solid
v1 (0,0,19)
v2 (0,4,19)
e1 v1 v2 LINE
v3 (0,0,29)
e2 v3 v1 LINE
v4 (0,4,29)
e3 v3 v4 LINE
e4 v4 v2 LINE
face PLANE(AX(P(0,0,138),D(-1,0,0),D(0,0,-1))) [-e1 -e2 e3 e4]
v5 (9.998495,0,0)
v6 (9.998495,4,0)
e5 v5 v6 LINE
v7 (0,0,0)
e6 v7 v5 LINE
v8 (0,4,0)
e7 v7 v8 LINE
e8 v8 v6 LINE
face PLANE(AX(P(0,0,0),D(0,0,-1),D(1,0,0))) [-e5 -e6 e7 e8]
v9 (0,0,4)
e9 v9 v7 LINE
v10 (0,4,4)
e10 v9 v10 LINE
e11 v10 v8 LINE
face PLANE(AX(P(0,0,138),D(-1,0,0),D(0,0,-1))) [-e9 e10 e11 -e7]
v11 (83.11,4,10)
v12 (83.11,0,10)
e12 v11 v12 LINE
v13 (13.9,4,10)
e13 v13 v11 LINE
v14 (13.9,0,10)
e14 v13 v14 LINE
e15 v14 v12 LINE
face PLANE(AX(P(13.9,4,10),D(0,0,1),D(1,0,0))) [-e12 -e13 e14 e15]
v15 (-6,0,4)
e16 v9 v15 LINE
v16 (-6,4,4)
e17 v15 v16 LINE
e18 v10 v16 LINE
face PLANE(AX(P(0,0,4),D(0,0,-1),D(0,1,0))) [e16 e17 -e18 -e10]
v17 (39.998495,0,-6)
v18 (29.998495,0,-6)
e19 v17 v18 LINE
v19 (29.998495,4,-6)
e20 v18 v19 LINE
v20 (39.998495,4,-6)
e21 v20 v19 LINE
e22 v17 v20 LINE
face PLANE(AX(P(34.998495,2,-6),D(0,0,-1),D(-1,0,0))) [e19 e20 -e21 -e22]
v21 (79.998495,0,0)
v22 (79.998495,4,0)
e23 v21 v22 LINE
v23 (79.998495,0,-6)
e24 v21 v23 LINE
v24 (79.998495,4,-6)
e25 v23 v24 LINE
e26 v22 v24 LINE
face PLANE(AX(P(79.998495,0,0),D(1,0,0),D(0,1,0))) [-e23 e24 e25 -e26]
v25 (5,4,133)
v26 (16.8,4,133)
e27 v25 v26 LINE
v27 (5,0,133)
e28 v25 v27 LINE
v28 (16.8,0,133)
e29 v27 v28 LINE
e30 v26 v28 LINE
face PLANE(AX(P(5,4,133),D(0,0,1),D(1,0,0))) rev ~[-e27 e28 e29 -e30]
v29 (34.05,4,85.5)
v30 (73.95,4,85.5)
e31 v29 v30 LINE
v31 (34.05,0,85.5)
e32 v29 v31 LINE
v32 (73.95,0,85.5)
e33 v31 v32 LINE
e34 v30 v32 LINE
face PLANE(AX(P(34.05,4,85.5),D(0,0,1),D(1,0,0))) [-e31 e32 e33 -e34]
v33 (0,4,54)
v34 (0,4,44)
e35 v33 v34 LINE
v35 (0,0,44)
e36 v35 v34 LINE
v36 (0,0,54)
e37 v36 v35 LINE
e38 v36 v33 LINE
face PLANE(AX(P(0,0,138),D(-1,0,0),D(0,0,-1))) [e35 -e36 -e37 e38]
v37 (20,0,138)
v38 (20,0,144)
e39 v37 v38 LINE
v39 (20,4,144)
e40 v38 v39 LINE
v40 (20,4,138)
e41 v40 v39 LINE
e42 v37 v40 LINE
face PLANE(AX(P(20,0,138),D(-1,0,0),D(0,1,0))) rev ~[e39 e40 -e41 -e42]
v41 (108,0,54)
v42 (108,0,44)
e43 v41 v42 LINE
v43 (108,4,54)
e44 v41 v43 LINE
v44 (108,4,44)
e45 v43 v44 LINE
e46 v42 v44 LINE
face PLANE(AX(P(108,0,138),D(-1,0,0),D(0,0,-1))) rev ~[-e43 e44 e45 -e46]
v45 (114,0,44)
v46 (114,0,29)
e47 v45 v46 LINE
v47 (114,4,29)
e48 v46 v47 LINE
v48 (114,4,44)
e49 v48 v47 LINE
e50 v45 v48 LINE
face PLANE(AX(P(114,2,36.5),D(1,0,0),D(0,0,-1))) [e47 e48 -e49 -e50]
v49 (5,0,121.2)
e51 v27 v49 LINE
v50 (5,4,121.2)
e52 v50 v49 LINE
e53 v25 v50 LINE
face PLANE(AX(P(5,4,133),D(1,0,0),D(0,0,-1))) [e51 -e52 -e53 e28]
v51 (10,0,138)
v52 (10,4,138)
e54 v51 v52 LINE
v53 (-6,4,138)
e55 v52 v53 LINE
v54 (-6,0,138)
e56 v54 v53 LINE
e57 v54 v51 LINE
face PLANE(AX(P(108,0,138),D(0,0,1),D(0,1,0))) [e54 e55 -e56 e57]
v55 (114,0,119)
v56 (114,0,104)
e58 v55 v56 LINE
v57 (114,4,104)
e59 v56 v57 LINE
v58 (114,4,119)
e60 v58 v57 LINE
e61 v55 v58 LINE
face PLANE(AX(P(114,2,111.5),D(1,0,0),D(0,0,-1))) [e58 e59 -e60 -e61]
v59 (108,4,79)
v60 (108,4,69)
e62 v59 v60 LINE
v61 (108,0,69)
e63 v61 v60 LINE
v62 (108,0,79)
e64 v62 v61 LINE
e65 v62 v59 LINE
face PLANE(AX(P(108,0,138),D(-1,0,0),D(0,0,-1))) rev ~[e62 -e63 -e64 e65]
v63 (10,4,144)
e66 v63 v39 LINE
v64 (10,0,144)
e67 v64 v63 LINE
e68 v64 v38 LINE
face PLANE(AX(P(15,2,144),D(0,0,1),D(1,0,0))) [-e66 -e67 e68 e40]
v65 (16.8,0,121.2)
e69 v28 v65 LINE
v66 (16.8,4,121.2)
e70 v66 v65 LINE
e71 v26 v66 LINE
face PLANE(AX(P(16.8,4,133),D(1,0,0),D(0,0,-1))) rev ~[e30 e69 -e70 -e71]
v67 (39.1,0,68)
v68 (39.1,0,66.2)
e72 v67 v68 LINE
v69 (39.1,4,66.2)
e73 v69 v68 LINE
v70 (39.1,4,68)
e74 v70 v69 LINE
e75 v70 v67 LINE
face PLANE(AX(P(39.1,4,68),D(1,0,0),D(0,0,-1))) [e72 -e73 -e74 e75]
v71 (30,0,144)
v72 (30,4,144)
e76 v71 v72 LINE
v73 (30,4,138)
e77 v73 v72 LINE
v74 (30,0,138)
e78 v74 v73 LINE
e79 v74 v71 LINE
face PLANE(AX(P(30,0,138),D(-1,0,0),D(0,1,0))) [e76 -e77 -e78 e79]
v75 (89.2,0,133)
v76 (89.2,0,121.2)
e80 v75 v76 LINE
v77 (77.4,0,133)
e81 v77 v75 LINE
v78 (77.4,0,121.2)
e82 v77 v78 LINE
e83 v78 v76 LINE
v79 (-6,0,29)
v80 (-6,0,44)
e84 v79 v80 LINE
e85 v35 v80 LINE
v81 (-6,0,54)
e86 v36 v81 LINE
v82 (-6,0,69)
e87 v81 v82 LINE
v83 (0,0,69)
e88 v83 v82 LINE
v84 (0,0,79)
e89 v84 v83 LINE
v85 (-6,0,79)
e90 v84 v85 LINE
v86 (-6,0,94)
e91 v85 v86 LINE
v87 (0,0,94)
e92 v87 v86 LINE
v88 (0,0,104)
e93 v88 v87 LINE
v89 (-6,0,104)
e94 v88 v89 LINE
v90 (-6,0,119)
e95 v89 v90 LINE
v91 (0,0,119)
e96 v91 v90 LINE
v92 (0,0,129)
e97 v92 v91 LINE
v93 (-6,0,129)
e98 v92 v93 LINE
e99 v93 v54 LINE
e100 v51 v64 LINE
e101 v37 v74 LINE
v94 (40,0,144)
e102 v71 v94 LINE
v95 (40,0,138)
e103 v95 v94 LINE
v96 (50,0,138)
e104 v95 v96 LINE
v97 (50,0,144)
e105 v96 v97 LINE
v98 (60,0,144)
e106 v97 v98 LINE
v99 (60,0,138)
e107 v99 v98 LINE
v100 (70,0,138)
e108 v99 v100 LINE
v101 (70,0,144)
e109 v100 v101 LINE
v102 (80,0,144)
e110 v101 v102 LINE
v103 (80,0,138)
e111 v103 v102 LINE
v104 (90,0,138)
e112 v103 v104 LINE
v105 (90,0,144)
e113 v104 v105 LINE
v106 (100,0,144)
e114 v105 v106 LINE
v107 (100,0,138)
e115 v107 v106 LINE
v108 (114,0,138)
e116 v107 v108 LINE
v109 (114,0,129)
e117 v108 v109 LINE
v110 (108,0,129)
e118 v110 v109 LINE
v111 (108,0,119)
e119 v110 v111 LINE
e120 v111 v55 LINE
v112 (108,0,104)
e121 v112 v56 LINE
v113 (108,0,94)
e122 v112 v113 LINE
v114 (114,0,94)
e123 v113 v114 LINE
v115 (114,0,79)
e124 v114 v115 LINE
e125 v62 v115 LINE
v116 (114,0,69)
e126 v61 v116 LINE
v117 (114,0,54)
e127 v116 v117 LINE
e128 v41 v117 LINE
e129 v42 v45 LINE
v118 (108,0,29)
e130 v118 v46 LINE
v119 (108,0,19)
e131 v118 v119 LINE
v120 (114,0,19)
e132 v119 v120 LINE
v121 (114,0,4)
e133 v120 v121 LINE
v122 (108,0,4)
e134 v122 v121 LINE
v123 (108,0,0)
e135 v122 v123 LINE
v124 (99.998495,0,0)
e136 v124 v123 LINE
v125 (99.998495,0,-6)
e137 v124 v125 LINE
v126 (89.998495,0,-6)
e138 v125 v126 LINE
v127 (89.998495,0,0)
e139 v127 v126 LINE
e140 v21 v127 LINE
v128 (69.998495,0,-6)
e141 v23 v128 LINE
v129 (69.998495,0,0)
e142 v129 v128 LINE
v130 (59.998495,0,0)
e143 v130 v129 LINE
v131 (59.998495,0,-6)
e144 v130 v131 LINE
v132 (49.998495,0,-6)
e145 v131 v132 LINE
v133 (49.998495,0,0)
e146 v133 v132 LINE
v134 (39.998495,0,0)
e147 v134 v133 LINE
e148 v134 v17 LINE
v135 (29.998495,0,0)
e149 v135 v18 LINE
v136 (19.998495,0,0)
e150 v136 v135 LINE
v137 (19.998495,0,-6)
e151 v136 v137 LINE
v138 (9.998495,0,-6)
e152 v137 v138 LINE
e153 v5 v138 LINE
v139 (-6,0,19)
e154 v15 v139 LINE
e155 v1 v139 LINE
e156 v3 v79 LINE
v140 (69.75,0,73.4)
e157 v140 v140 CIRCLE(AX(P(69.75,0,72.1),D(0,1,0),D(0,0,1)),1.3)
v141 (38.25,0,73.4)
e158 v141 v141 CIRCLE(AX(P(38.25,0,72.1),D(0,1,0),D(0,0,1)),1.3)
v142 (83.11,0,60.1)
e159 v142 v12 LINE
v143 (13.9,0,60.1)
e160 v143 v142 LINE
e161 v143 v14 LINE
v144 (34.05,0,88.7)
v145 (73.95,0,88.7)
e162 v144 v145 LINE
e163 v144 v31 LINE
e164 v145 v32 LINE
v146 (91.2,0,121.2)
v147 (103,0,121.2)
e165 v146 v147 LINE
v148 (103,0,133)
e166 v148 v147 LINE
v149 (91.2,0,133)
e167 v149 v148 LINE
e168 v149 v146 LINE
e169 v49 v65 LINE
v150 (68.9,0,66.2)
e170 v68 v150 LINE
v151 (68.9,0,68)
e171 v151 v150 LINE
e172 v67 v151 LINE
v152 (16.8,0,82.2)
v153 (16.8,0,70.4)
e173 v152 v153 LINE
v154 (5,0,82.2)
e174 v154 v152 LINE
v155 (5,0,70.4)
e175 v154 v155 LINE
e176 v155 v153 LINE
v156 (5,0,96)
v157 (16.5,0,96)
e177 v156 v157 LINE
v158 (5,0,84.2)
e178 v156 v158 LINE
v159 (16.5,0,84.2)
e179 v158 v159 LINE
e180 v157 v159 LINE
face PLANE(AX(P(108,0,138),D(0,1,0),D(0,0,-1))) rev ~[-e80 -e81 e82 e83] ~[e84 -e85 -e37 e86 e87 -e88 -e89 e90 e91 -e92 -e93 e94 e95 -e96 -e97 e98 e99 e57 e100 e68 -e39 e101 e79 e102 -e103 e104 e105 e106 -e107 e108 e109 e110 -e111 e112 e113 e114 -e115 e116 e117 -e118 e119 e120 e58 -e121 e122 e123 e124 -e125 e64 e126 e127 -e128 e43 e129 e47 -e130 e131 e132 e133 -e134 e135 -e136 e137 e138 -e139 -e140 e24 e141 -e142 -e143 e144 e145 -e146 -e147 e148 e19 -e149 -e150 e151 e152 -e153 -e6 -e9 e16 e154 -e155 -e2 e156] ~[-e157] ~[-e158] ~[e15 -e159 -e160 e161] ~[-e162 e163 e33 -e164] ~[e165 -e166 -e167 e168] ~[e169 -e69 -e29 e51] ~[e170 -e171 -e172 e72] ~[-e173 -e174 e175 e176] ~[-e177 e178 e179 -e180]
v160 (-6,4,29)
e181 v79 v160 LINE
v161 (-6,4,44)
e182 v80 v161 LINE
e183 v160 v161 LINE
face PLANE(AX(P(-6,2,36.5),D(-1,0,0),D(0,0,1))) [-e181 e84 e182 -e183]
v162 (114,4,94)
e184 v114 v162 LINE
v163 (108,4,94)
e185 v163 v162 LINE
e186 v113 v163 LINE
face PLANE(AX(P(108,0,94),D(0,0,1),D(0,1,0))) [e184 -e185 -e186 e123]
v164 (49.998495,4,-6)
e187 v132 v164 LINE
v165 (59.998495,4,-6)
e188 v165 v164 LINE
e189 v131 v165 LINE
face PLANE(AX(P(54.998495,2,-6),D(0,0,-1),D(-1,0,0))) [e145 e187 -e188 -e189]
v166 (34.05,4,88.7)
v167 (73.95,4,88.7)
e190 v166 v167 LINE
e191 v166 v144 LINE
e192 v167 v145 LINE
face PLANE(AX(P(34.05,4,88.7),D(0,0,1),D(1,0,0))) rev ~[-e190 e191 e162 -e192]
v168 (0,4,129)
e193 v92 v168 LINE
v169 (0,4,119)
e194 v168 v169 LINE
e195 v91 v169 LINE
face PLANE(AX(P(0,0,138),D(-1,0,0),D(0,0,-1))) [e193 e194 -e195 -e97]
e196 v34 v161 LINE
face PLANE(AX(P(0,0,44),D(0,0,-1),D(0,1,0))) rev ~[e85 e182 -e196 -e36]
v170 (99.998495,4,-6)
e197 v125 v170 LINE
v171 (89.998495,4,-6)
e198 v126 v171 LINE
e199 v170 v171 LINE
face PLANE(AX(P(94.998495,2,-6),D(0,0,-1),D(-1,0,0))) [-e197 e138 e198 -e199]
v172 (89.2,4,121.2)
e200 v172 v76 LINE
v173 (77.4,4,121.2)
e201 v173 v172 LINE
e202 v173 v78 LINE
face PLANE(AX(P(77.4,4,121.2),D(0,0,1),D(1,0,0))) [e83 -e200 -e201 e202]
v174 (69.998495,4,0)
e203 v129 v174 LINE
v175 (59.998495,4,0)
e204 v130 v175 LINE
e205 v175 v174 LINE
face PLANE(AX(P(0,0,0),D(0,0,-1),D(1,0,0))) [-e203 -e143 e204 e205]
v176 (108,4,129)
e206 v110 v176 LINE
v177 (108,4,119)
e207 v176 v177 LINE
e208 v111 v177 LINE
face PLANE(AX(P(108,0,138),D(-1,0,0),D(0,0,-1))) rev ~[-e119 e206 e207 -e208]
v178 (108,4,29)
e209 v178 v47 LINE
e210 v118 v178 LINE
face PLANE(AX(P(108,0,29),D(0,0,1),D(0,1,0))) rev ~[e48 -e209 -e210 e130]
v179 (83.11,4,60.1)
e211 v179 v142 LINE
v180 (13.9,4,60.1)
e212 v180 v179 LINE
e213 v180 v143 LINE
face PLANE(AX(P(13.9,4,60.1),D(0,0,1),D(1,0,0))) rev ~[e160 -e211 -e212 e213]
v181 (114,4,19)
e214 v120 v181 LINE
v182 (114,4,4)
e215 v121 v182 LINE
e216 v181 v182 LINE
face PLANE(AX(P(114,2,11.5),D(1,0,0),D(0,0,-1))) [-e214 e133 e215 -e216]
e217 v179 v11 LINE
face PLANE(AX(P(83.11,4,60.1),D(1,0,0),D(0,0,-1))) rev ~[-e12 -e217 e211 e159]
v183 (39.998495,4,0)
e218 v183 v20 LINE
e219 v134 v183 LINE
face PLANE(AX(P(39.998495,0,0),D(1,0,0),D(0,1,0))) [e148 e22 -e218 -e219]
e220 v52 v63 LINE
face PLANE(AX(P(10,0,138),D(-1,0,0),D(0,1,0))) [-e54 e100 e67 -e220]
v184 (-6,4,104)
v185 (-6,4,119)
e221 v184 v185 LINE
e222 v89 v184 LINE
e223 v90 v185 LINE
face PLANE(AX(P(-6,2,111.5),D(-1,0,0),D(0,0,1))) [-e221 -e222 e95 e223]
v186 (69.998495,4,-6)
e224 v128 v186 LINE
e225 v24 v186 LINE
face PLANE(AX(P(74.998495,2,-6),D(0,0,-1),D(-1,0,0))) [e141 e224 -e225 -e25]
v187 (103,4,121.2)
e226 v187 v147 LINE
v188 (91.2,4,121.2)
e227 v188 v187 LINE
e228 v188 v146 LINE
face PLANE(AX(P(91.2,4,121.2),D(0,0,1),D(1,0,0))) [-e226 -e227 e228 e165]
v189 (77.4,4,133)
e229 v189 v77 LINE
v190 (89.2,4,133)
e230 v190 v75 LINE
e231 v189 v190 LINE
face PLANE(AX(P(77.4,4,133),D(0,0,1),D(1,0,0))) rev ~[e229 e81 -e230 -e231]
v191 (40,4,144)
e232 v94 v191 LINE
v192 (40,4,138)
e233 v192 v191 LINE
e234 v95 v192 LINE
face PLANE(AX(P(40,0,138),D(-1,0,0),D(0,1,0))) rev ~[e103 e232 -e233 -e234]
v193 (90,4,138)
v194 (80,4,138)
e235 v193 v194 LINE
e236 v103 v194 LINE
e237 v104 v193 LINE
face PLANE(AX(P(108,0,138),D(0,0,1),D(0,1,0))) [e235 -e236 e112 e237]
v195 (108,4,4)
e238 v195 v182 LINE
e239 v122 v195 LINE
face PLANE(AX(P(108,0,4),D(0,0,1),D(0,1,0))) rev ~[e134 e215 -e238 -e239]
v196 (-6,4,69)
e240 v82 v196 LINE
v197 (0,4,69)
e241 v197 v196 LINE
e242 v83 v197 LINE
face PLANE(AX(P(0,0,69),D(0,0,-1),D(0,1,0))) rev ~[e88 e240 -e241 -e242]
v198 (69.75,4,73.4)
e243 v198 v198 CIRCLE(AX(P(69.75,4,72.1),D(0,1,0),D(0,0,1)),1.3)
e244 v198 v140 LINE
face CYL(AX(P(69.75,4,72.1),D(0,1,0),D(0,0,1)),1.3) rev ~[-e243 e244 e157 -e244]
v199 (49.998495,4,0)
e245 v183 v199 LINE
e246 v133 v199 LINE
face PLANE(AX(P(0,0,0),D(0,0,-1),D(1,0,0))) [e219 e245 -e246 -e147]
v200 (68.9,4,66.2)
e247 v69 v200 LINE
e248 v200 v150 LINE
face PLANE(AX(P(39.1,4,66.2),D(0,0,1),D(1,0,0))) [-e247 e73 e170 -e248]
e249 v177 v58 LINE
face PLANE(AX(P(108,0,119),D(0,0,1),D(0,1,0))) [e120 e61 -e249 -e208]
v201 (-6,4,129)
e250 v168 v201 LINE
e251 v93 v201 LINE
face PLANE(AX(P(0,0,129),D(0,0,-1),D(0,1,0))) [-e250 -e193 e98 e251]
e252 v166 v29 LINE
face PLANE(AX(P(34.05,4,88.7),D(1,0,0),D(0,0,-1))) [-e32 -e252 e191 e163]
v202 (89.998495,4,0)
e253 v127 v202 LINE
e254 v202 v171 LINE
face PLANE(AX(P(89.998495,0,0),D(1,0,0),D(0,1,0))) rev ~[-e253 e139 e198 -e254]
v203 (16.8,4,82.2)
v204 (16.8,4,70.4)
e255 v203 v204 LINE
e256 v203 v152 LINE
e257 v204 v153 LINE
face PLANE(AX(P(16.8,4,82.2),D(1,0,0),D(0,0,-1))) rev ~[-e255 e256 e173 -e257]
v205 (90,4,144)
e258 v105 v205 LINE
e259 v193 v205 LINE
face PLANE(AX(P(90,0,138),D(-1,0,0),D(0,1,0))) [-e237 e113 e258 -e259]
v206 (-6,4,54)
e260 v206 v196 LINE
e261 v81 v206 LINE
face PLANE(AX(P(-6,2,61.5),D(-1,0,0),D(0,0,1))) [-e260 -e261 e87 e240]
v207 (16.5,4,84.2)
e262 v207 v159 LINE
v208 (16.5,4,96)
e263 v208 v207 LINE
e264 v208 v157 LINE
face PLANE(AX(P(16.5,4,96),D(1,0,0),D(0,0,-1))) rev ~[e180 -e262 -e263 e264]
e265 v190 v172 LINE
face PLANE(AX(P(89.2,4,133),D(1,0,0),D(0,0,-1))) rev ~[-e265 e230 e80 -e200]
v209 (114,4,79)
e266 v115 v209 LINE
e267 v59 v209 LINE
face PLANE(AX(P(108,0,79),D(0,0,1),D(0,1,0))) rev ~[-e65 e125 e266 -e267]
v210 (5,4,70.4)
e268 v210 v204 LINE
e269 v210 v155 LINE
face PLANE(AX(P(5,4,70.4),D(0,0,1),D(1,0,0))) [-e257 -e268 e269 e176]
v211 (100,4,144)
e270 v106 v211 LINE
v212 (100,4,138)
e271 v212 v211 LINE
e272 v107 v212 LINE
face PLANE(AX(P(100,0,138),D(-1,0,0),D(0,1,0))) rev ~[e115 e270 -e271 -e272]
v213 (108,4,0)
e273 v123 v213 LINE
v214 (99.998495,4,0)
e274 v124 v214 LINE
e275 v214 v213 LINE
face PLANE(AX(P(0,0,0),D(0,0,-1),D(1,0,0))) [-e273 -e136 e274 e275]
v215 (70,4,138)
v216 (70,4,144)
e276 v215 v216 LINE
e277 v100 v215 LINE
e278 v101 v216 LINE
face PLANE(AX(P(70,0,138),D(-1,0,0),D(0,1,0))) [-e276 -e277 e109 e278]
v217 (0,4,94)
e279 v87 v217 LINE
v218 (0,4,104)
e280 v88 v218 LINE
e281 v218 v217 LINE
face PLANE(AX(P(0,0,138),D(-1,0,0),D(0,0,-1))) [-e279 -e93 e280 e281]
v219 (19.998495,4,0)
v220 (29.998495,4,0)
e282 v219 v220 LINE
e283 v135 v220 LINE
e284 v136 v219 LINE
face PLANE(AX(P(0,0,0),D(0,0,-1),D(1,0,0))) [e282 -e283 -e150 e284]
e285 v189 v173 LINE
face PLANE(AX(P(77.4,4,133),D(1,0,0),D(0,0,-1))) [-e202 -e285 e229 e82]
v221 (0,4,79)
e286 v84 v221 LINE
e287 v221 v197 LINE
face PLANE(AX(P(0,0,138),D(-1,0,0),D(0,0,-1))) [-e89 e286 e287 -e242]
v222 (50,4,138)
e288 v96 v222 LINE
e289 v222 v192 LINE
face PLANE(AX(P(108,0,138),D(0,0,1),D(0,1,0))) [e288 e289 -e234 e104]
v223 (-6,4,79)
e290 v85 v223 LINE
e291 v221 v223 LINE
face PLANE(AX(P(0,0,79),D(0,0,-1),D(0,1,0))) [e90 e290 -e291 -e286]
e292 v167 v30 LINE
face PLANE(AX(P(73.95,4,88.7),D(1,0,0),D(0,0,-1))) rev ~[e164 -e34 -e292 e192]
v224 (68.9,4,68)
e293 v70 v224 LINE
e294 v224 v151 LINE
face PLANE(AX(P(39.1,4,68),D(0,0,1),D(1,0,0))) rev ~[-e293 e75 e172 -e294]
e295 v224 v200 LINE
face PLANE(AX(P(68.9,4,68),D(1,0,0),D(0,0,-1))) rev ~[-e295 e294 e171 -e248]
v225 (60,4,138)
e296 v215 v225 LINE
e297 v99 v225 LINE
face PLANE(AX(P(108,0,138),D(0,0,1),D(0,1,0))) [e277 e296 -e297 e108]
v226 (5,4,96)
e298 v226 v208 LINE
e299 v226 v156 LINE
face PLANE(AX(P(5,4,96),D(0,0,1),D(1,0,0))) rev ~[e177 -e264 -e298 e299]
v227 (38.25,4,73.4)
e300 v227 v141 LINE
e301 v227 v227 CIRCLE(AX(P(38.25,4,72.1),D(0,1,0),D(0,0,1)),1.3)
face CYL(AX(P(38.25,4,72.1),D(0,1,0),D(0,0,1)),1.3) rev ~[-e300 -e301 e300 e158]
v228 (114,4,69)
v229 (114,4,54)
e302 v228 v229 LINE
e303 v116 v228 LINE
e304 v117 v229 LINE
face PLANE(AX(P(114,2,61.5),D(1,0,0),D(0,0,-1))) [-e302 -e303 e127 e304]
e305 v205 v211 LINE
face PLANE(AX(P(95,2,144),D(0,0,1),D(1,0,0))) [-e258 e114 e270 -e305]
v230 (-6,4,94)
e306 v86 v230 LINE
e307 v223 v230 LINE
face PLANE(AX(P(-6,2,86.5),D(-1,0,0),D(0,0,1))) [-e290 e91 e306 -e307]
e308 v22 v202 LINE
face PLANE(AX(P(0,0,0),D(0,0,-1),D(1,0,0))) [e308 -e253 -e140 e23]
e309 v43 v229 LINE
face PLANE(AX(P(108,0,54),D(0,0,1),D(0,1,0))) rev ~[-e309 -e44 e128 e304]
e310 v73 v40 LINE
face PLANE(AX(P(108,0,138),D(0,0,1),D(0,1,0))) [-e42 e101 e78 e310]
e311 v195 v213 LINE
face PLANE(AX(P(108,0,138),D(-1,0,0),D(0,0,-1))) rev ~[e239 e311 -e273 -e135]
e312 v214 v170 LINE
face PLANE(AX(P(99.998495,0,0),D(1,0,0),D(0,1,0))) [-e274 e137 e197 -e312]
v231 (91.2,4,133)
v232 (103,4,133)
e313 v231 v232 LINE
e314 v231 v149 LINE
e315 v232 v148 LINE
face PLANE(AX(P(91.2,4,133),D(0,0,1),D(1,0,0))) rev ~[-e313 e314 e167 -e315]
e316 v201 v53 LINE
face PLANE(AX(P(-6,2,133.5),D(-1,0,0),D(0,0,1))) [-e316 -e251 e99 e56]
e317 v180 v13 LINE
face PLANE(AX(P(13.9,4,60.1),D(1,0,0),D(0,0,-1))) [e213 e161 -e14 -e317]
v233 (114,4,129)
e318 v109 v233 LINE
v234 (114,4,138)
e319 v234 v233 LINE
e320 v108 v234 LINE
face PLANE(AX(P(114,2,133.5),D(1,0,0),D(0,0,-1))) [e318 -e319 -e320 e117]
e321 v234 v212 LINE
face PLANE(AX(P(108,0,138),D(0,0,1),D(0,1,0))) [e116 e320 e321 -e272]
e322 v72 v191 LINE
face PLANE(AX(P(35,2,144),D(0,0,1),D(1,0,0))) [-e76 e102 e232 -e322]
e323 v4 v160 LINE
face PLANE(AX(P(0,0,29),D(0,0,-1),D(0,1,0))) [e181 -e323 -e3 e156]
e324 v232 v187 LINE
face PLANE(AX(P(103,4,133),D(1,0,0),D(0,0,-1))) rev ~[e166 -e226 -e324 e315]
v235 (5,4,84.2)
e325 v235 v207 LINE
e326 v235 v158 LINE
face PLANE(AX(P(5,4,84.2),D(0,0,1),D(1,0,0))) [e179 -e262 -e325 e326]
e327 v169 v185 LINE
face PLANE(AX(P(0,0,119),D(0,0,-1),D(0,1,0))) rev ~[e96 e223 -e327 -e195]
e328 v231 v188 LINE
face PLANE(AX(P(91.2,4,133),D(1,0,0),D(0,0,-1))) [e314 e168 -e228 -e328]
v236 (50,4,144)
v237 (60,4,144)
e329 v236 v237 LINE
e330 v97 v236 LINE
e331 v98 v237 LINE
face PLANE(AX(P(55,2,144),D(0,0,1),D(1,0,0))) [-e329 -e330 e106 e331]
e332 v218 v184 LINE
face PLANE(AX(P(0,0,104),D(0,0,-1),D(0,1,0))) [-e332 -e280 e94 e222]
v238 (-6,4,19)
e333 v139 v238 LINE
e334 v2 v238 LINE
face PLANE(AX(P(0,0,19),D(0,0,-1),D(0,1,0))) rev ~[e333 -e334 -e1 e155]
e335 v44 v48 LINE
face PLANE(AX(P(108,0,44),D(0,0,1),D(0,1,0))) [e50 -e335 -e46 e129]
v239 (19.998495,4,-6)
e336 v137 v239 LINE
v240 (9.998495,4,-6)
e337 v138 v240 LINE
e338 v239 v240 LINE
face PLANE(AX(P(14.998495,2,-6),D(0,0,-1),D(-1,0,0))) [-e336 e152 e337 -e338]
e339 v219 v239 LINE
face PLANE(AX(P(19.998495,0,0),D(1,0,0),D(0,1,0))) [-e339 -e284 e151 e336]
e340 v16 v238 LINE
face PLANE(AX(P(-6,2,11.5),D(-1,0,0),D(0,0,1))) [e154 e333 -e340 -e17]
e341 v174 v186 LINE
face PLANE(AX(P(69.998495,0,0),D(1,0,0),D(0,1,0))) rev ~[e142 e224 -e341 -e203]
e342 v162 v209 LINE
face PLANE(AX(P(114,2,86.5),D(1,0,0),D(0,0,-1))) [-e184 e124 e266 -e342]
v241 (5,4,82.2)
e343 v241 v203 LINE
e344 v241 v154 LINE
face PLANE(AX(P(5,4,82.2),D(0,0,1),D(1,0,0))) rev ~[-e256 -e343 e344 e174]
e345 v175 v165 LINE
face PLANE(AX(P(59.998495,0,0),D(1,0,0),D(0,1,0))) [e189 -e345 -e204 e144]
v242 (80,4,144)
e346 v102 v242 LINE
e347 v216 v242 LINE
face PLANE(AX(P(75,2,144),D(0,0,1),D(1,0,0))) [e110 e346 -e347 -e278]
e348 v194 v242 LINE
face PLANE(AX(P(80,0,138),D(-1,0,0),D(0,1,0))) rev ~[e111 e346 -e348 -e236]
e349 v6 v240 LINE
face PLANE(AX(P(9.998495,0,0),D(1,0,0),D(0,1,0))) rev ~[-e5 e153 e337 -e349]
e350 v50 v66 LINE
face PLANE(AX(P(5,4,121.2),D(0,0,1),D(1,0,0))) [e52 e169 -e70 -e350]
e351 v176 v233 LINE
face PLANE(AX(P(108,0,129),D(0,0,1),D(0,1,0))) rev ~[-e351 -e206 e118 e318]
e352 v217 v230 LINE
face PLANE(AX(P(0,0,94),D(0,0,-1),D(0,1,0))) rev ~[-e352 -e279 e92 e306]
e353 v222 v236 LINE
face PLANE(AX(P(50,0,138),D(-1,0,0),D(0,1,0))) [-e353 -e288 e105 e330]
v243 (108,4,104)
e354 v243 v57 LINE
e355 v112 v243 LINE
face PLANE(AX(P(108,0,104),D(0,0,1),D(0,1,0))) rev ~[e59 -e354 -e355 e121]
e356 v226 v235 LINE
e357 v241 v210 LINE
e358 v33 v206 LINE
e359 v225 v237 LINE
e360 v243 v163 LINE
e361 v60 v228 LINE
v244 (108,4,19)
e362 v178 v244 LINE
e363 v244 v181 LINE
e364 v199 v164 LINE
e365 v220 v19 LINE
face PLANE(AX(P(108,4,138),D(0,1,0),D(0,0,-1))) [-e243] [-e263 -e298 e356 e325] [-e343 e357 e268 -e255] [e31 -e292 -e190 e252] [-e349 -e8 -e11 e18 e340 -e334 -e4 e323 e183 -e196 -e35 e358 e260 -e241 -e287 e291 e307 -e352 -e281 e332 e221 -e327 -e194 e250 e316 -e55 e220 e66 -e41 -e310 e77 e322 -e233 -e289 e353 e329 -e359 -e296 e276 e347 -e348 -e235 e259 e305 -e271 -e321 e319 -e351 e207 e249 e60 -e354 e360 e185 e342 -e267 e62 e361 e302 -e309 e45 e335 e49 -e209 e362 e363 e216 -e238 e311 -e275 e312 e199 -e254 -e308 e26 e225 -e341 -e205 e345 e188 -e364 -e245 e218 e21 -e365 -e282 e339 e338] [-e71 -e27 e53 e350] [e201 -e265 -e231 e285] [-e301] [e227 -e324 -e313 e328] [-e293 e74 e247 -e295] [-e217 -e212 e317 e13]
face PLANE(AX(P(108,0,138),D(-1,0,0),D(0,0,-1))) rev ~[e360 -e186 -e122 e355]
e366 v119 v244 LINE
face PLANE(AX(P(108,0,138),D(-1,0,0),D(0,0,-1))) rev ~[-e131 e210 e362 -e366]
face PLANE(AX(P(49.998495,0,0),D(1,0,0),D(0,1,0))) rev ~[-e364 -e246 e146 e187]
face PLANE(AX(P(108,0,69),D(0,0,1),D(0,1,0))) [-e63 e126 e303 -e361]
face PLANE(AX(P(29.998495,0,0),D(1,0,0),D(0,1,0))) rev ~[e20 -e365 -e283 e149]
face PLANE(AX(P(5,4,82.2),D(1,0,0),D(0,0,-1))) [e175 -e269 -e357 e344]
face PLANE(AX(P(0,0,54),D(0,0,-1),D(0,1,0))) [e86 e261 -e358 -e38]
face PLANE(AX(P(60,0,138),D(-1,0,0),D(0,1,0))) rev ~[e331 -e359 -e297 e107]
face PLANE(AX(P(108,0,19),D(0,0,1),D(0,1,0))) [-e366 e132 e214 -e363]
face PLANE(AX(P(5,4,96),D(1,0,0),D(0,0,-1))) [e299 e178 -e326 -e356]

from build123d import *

# Parameters (mm, degrees)
SKETCH_1_W          = 108
SKETCH_1_H          = 138
EXTRUDE_1_DEPTH     = 4
SKETCH_2_W          = 69.21
SKETCH_2_H          = 50.1
CUT_EXTRUDE_1_DEPTH = 176.282628917
SKETCH_4_W          = 15
SKETCH_4_H          = 4
EXTRUDE_2_DEPTH     = 6
SKETCH_6_W          = 9
SKETCH_6_H          = 4
EXTRUDE_3_DEPTH     = 6
SKETCH_7_W          = 15
SKETCH_7_H          = 4
EXTRUDE_4_DEPTH     = 6
SKETCH_8_W          = 9
SKETCH_8_H          = 4
EXTRUDE_5_DEPTH     = 6
SKETCH_9_W          = 10
SKETCH_9_H          = 4
EXTRUDE_6_DEPTH     = 6
SKETCH_10_W         = 10
SKETCH_10_H         = 4
EXTRUDE_7_DEPTH     = 6
SKETCH_11_W         = 11.5
SKETCH_11_H         = 11.8
SKETCH_11_W_2       = 11.8
CUT_EXTRUDE_2_DEPTH = 184.706287318
SKETCH_12_W         = 11.8
SKETCH_12_H         = 11.8
CUT_EXTRUDE_3_DEPTH = 184.706287318
SKETCH_13_W         = 11.8
SKETCH_13_H         = 11.8
CUT_EXTRUDE_4_DEPTH = 184.706287318
SKETCH_14_R         = 1.3
SKETCH_14_W         = 29.8
SKETCH_14_H         = 1.8
SKETCH_14_W_2       = 39.9
SKETCH_14_H_2       = 3.2
CUT_EXTRUDE_5_DEPTH = 184.706287318


with BuildPart() as part:
    # Эскиз1 → Бобышка-Вытянуть1 (new body)
    with BuildSketch(Plane(origin=(0, 0, 0), x_dir=(1, 0, 0), z_dir=(0, 1, 0))):
        with Locations((54, -69)):
            Rectangle(SKETCH_1_W, SKETCH_1_H)
    extrude(amount=EXTRUDE_1_DEPTH)

    # Эскиз2 → Вырез-Вытянуть1 (cut, through all)
    with BuildSketch(Plane(origin=(0, 4, 0), x_dir=(1, 0, 0), z_dir=(0, 1, 0))):
        with Locations((48.505, -35.05)):
            Rectangle(SKETCH_2_W, SKETCH_2_H)
    extrude(amount=-CUT_EXTRUDE_1_DEPTH, mode=Mode.SUBTRACT)

    # Эскиз4 → Бобышка-Вытянуть2 (add)
    with BuildSketch(Plane.ZY):
        with Locations((11.5, 2)):
            Rectangle(SKETCH_4_W, SKETCH_4_H)
        with Locations((36.5, 2)):
            Rectangle(SKETCH_4_W, SKETCH_4_H)
        with Locations((61.5, 2)):
            Rectangle(SKETCH_4_W, SKETCH_4_H)
        with Locations((86.5, 2)):
            Rectangle(SKETCH_4_W, SKETCH_4_H)
        with Locations((111.5, 2)):
            Rectangle(SKETCH_4_W, SKETCH_4_H)
    extrude(amount=EXTRUDE_2_DEPTH)

    # Эскиз6 → Бобышка-Вытянуть3 (add)
    with BuildSketch(Plane.ZY):
        with Locations((133.5, 2)):
            Rectangle(SKETCH_6_W, SKETCH_6_H)
    extrude(amount=EXTRUDE_3_DEPTH)

    # Эскиз7 → Бобышка-Вытянуть4 (add)
    with BuildSketch(Plane(origin=(108, 0, 0), x_dir=(0, 0, -1), z_dir=(1, 0, 0))):
        with Locations((-11.5, 2)):
            Rectangle(SKETCH_7_W, SKETCH_7_H)
        with Locations((-36.5, 2)):
            Rectangle(SKETCH_7_W, SKETCH_7_H)
        with Locations((-61.5, 2)):
            Rectangle(SKETCH_7_W, SKETCH_7_H)
        with Locations((-86.5, 2)):
            Rectangle(SKETCH_7_W, SKETCH_7_H)
        with Locations((-111.5, 2)):
            Rectangle(SKETCH_7_W, SKETCH_7_H)
    extrude(amount=EXTRUDE_4_DEPTH)

    # Эскиз8 → Бобышка-Вытянуть5 (add)
    with BuildSketch(Plane(origin=(108, 0, 0), x_dir=(0, 0, -1), z_dir=(1, 0, 0))):
        with Locations((-133.5, 2)):
            Rectangle(SKETCH_8_W, SKETCH_8_H)
    extrude(amount=EXTRUDE_5_DEPTH)

    # Эскиз9 → Бобышка-Вытянуть6 (add)
    with BuildSketch(Plane(origin=(0, 0, 0), x_dir=(-1, 0, 0), z_dir=(0, 0, -1))):
        with Locations((-94.998495411, 2)):
            Rectangle(SKETCH_9_W, SKETCH_9_H)
        with Locations((-74.998495411, 2)):
            Rectangle(SKETCH_9_W, SKETCH_9_H)
        with Locations((-54.998495411, 2)):
            Rectangle(SKETCH_9_W, SKETCH_9_H)
        with Locations((-34.998495411, 2)):
            Rectangle(SKETCH_9_W, SKETCH_9_H)
        with Locations((-14.998495411, 2)):
            Rectangle(SKETCH_9_W, SKETCH_9_H)
    extrude(amount=EXTRUDE_6_DEPTH)

    # Эскиз10 → Бобышка-Вытянуть7 (add)
    with BuildSketch(Plane.XY.offset(138)):
        with Locations((15, 2)):
            Rectangle(SKETCH_10_W, SKETCH_10_H)
        with Locations((35, 2)):
            Rectangle(SKETCH_10_W, SKETCH_10_H)
        with Locations((55, 2)):
            Rectangle(SKETCH_10_W, SKETCH_10_H)
        with Locations((75, 2)):
            Rectangle(SKETCH_10_W, SKETCH_10_H)
        with Locations((95, 2)):
            Rectangle(SKETCH_10_W, SKETCH_10_H)
    extrude(amount=EXTRUDE_7_DEPTH)

    # Эскиз11 → Вырез-Вытянуть2 (cut, through all)
    with BuildSketch(Plane(origin=(0, 4, 0), x_dir=(1, 0, 0), z_dir=(0, 1, 0))):
        with Locations((10.75, -90.1)):
            Rectangle(SKETCH_11_W, SKETCH_11_H)
        with Locations((10.9, -76.3)):
            Rectangle(SKETCH_11_W_2, SKETCH_11_H)
    extrude(amount=-CUT_EXTRUDE_2_DEPTH, mode=Mode.SUBTRACT)

    # Эскиз12 → Вырез-Вытянуть3 (cut, through all)
    with BuildSketch(Plane(origin=(0, 4, 0), x_dir=(1, 0, 0), z_dir=(0, 1, 0))):
        with Locations((83.3, -127.1)):
            Rectangle(SKETCH_12_W, SKETCH_12_H)
        with Locations((97.1, -127.1)):
            Rectangle(SKETCH_12_W, SKETCH_12_H)
    extrude(amount=-CUT_EXTRUDE_3_DEPTH, mode=Mode.SUBTRACT)

    # Эскиз13 → Вырез-Вытянуть4 (cut, through all)
    with BuildSketch(Plane(origin=(0, 4, 0), x_dir=(1, 0, 0), z_dir=(0, 1, 0))):
        with Locations((10.9, -127.1)):
            Rectangle(SKETCH_13_W, SKETCH_13_H)
    extrude(amount=-CUT_EXTRUDE_4_DEPTH, mode=Mode.SUBTRACT)

    # Эскиз14 → Вырез-Вытянуть5 (cut, through all)
    with BuildSketch(Plane(origin=(0, 4, 0), x_dir=(1, 0, 0), z_dir=(0, 1, 0))):
        with Locations(Location((38.25, -72.1, 0), (0, 0, 270))):
            Circle(SKETCH_14_R)
        with Locations(Location((69.75, -72.1, 0), (0, 0, 270))):
            Circle(SKETCH_14_R)
        with Locations((54, -67.1)):
            Rectangle(SKETCH_14_W, SKETCH_14_H)
        with Locations((54, -87.1)):
            Rectangle(SKETCH_14_W_2, SKETCH_14_H_2)
    extrude(amount=-CUT_EXTRUDE_5_DEPTH, mode=Mode.SUBTRACT)


solid = part.part
